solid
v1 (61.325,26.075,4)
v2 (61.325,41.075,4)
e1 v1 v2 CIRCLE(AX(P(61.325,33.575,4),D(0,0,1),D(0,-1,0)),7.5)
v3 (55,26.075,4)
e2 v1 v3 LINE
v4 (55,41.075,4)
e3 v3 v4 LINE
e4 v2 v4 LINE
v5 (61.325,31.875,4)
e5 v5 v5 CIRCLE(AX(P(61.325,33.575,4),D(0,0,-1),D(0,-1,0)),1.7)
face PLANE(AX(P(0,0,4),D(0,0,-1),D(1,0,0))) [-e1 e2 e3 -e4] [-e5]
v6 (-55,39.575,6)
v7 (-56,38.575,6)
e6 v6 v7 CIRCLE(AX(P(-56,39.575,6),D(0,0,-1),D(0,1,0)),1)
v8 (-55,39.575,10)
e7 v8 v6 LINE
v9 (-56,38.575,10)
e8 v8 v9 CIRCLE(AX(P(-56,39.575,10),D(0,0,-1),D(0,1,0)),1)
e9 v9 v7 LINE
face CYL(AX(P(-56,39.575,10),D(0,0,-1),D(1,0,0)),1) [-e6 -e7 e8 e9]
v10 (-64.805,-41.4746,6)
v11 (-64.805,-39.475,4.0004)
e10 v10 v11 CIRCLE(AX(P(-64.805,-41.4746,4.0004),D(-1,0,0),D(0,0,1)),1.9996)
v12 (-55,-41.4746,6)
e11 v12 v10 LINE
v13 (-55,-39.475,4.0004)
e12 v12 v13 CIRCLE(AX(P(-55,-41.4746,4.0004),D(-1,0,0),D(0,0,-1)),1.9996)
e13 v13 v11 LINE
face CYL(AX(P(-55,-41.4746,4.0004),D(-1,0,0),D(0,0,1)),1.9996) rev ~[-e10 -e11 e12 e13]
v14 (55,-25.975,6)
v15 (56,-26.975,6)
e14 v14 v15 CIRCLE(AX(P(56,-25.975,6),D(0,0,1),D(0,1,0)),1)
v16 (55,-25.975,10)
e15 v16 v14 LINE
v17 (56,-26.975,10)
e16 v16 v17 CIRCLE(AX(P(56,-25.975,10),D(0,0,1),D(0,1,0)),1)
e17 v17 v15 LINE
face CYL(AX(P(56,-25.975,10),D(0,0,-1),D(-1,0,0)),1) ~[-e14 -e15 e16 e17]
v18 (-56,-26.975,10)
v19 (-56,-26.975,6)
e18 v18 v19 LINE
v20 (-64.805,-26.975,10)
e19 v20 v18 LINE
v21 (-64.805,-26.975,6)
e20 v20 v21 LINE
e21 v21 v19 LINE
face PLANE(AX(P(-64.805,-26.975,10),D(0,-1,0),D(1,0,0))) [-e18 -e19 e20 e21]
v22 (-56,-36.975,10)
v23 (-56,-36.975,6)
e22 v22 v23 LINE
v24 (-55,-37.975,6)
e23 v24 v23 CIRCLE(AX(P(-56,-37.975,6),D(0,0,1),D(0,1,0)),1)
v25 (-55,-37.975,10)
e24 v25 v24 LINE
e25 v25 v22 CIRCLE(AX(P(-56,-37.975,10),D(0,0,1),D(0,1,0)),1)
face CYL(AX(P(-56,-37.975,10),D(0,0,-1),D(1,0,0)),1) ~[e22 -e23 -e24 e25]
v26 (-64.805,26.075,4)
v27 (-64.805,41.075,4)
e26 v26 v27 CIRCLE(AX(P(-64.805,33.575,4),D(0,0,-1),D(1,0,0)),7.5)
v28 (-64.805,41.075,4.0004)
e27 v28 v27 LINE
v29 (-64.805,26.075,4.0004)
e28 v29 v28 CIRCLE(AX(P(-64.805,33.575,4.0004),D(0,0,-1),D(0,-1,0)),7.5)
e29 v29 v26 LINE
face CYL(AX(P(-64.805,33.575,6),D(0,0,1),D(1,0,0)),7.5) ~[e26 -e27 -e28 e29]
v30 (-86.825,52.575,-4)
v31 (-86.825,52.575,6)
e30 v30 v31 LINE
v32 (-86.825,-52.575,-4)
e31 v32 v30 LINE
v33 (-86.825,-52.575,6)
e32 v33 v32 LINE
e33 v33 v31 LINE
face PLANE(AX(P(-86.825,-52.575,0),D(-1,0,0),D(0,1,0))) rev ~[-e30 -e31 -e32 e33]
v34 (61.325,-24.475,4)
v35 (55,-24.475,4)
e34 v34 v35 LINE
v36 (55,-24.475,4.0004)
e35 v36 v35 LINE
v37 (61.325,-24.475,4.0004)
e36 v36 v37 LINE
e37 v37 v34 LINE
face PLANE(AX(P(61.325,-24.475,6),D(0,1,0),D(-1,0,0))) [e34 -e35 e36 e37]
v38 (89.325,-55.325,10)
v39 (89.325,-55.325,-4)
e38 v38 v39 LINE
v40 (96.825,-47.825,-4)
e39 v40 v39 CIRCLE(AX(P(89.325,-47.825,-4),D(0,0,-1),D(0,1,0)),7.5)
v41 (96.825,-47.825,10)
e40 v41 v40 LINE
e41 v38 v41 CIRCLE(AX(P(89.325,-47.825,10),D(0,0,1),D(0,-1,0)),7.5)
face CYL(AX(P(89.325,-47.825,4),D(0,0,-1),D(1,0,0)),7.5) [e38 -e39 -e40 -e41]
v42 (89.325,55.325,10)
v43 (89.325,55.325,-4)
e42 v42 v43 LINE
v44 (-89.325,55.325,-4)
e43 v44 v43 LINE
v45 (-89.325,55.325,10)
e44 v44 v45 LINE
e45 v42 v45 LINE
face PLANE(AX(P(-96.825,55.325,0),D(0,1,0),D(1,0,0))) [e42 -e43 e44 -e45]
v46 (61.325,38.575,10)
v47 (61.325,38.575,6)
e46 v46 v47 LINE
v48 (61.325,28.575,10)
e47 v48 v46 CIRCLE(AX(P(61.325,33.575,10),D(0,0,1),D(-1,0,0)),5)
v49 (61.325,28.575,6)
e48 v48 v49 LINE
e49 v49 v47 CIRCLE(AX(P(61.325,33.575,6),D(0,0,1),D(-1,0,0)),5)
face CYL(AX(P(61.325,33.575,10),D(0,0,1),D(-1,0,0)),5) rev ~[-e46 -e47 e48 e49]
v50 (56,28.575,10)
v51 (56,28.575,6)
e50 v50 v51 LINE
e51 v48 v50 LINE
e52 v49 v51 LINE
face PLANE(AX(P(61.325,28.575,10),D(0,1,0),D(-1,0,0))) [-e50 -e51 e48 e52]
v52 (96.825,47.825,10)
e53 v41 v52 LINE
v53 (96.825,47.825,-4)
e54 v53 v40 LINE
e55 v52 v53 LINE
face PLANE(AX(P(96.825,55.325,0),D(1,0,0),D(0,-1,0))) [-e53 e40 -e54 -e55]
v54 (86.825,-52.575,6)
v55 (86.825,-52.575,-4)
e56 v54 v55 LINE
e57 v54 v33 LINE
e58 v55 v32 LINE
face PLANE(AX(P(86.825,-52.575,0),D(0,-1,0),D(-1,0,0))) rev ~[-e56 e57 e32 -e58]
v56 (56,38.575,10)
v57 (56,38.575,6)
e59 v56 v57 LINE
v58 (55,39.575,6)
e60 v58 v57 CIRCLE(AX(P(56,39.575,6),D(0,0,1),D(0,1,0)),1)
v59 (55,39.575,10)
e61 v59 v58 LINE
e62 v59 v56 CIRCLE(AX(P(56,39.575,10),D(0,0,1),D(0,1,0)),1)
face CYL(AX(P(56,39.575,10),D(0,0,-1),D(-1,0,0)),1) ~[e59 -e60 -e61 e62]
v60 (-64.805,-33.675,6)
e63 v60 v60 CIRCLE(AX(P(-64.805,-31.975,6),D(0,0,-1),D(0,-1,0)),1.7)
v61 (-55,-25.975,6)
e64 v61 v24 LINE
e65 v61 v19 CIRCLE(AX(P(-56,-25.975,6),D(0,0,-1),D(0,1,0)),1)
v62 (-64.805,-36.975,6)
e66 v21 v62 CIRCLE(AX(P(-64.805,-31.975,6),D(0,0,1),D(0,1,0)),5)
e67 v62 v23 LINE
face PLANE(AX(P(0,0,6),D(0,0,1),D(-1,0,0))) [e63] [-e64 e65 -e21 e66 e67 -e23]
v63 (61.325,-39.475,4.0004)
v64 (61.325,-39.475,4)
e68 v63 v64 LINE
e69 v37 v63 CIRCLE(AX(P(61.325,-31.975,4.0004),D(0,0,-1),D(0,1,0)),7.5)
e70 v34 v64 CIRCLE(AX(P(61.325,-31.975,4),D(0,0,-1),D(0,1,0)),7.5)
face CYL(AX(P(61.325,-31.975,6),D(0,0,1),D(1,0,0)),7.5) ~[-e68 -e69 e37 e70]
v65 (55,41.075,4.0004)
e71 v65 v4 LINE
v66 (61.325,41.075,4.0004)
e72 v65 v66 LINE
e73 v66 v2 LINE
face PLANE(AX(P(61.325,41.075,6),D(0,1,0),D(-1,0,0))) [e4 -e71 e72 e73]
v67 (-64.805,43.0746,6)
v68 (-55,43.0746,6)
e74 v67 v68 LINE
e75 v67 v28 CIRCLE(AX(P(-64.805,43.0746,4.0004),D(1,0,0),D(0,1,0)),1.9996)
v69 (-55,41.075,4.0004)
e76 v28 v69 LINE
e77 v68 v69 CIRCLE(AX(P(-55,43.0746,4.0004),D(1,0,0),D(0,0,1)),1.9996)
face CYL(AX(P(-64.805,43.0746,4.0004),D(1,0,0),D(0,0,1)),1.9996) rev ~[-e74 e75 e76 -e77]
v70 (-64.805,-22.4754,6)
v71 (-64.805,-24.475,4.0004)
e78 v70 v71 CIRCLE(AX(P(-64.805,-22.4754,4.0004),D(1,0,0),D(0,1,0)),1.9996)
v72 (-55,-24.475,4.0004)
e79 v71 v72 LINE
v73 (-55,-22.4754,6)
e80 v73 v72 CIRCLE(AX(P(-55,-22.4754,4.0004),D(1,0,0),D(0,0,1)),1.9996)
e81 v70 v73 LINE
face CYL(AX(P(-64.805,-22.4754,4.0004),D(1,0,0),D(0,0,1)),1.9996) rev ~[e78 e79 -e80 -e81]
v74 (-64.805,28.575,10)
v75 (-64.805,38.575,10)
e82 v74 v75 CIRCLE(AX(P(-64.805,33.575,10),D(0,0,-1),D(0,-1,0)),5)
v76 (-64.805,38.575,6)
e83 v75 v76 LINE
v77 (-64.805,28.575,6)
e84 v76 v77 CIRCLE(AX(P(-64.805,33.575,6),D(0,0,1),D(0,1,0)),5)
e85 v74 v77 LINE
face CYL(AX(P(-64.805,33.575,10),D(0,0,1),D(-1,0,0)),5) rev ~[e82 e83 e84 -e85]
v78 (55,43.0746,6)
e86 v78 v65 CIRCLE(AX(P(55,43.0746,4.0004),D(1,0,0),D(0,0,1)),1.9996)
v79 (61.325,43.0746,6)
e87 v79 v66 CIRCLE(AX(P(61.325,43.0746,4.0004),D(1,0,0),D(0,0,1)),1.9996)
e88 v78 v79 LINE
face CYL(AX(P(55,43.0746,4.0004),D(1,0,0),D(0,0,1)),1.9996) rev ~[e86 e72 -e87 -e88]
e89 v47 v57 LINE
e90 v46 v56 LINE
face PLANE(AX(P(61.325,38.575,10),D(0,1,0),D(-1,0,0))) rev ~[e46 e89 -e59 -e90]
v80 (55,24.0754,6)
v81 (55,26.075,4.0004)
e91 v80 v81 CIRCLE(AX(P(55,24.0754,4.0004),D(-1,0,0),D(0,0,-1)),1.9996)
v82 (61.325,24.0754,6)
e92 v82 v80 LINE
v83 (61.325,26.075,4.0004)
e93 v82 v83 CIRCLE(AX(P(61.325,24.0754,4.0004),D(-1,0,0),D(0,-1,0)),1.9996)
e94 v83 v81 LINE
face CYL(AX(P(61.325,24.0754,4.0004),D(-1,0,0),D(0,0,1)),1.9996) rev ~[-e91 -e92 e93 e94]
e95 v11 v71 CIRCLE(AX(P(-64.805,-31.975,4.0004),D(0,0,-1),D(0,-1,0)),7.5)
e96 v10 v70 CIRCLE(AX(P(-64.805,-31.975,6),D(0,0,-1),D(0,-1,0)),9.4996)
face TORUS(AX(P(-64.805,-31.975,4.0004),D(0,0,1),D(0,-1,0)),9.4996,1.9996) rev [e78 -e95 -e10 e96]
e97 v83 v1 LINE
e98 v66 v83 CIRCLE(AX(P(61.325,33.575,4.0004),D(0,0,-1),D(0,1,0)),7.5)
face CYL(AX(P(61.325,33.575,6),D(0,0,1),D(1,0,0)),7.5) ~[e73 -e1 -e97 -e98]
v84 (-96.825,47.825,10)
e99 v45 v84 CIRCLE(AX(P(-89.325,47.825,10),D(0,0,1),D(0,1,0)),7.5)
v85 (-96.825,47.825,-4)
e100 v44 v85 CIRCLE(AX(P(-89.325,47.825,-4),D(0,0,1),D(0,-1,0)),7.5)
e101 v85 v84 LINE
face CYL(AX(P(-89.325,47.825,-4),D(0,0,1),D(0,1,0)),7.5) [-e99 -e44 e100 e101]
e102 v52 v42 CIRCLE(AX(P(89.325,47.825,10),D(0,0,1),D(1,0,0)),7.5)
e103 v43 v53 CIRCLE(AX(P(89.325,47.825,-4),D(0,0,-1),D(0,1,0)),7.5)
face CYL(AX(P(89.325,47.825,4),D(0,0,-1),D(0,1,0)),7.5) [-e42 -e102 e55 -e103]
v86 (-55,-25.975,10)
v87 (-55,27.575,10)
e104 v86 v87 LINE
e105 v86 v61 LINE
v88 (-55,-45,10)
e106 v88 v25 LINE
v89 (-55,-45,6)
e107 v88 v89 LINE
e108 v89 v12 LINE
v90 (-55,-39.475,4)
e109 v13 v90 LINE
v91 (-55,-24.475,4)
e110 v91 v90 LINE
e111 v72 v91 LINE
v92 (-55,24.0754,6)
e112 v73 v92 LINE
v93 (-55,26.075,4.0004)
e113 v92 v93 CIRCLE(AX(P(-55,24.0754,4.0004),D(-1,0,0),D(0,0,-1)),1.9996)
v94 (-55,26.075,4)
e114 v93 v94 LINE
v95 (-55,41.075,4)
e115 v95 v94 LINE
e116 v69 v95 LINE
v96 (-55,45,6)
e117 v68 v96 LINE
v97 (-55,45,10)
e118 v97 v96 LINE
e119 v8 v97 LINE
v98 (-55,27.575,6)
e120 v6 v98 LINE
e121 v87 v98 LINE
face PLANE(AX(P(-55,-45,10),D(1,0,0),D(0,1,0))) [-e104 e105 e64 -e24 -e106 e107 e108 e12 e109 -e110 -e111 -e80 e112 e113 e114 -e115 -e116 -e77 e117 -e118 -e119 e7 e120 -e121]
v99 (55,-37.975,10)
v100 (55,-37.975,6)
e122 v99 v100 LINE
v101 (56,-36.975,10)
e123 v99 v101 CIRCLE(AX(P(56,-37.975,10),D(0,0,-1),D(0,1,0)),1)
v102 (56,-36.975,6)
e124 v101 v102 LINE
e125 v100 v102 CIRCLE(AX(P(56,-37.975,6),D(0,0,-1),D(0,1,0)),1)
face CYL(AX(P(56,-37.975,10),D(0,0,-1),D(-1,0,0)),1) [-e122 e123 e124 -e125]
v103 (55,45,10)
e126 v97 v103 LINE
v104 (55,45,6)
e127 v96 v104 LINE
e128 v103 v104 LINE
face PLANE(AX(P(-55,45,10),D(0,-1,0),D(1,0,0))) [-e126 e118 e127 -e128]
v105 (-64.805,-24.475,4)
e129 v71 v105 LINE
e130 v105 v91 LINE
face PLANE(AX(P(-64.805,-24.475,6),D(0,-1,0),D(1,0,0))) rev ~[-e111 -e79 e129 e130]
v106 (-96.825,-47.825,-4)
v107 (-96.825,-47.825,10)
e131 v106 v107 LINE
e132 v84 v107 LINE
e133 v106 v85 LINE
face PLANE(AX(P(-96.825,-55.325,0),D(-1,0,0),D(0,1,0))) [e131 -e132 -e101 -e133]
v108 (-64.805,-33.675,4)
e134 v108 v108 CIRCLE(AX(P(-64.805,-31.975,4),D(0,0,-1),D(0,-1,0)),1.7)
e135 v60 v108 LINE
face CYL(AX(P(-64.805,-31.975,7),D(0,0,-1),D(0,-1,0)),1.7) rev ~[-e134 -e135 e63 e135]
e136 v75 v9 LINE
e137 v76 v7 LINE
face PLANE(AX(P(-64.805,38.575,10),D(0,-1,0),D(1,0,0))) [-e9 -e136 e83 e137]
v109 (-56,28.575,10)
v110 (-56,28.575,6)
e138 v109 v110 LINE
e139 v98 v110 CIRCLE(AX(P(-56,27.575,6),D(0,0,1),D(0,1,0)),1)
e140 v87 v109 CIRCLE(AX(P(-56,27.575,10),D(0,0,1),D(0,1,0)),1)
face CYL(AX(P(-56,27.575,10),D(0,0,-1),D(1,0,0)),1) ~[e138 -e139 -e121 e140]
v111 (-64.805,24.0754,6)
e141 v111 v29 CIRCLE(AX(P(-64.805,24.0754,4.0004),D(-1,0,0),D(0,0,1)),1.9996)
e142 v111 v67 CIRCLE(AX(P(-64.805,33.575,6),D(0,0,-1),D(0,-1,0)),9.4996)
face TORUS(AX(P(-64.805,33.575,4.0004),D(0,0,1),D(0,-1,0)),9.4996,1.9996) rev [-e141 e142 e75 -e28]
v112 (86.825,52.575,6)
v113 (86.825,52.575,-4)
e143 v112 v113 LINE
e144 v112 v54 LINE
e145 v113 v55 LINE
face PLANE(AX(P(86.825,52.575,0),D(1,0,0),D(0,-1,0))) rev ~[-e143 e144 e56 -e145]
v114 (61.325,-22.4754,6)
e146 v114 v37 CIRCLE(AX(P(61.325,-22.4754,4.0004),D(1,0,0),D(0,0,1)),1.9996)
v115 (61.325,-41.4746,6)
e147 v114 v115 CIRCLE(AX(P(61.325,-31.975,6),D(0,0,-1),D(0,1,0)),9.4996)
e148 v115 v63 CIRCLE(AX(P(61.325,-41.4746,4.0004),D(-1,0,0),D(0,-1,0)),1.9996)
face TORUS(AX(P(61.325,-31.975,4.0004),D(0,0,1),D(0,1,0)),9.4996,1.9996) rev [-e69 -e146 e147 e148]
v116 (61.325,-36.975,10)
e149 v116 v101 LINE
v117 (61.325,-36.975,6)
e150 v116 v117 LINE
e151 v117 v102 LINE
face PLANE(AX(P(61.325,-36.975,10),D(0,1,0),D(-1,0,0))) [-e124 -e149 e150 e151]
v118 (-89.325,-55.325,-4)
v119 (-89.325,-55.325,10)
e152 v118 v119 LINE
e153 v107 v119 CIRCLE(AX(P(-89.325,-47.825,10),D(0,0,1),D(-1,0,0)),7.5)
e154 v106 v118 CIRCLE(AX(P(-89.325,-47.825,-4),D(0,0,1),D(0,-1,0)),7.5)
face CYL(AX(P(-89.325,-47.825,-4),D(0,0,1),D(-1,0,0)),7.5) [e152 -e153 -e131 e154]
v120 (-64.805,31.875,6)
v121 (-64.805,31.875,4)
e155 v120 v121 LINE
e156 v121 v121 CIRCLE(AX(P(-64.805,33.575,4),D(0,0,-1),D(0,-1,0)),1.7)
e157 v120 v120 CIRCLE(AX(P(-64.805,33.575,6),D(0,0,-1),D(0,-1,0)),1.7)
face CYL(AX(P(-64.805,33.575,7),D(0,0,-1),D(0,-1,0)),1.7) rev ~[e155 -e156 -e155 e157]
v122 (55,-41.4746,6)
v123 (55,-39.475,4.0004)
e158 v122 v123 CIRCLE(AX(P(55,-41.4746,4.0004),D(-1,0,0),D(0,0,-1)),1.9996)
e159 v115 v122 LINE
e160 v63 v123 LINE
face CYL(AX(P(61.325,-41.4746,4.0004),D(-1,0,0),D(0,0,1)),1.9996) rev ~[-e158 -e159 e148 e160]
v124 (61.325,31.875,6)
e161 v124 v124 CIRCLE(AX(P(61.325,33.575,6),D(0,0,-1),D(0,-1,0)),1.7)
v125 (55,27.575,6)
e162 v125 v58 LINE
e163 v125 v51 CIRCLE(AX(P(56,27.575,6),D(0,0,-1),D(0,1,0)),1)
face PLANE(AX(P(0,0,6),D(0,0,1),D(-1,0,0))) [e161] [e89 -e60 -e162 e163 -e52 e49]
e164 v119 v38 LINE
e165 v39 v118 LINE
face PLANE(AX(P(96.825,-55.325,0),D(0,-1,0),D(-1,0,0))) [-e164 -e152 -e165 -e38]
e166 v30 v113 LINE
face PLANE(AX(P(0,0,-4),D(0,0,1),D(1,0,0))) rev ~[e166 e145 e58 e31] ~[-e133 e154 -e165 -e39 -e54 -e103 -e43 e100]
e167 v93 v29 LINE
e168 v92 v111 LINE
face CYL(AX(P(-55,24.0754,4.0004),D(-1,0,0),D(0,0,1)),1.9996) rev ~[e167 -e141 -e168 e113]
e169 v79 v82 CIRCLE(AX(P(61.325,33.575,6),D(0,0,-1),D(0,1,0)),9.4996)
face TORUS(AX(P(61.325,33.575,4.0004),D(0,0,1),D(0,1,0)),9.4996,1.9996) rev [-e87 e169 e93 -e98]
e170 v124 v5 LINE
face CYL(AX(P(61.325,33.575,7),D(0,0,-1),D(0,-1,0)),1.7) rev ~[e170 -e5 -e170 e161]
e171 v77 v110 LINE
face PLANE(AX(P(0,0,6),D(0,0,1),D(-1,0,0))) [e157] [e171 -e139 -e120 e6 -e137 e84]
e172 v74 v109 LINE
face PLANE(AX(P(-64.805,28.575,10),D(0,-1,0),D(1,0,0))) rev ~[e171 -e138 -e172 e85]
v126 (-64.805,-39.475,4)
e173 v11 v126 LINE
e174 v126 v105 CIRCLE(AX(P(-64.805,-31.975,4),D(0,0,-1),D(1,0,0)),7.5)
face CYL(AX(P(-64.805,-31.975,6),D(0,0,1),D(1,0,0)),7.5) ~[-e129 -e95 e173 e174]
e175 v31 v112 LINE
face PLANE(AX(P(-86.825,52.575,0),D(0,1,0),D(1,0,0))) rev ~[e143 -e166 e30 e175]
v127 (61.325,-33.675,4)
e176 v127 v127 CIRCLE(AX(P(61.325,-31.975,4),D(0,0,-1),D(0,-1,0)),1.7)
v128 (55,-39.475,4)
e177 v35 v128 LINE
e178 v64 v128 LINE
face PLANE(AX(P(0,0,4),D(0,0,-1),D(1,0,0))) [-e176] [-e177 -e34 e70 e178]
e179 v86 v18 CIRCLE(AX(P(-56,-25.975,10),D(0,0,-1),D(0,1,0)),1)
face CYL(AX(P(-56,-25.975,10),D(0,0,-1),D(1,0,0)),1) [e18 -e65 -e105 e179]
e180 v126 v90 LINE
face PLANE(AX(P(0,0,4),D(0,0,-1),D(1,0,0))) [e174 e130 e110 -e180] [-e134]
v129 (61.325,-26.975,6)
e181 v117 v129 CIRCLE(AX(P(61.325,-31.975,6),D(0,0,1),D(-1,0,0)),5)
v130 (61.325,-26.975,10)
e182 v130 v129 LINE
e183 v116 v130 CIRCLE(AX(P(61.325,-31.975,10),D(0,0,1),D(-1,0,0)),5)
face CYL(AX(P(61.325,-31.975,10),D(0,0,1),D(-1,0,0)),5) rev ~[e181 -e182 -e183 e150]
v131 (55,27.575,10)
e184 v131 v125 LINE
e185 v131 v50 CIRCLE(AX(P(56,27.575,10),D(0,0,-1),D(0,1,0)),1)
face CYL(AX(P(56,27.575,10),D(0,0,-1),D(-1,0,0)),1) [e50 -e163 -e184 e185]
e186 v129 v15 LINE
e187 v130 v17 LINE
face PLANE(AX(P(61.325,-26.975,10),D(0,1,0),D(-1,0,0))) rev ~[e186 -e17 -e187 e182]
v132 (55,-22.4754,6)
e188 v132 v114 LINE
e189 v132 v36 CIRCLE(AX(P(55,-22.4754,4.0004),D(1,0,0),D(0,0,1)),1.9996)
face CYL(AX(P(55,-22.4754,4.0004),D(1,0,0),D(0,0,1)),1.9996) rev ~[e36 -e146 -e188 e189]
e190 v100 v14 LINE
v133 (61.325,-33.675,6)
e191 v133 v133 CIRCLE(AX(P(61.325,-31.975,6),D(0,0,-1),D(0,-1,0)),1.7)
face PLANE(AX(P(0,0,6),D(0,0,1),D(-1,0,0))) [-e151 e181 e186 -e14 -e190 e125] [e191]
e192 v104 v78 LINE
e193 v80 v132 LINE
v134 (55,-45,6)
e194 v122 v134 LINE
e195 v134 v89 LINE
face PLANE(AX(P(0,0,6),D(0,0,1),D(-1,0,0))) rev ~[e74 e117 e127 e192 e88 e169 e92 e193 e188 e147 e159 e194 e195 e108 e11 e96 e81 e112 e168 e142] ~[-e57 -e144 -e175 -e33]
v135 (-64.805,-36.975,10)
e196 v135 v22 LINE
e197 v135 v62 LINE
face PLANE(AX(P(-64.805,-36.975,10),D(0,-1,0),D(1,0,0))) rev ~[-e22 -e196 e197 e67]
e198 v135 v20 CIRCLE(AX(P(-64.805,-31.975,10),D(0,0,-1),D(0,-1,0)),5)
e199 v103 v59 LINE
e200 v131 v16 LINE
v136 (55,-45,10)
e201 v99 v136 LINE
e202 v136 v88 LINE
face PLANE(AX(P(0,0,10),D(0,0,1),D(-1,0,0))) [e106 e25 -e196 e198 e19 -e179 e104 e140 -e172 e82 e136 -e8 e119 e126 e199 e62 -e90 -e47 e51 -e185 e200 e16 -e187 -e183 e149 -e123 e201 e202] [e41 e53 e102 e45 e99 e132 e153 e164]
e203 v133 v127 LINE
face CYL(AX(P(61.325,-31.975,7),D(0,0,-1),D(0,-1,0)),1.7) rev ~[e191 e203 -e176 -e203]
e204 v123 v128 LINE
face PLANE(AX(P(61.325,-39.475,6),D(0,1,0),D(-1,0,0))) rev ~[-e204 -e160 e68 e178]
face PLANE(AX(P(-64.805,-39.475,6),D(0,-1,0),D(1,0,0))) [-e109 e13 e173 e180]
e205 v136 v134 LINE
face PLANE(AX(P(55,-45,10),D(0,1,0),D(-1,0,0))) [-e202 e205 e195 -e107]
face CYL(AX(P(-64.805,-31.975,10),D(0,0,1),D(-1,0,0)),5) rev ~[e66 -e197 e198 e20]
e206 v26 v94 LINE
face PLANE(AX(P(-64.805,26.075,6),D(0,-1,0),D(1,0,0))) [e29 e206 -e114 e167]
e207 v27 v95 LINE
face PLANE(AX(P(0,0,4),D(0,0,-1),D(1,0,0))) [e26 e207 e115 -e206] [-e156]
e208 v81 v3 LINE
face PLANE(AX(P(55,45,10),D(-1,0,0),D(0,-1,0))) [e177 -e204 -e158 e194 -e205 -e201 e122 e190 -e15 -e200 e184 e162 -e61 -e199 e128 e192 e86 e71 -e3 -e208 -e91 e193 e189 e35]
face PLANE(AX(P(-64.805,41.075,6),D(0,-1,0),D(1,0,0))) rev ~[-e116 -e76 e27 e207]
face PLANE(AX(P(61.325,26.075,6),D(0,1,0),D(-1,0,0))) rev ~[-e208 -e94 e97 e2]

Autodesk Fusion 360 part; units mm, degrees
sketch "Sketch1" plane through (0, 0, 0) normal (0, 0, 1) x (1, 0, 0)
  line L0 (-96.825, 55.325) -> (96.825, 55.325)
  line L1 (96.825, 55.325) -> (96.825, -55.325)
  line L2 (96.825, -55.325) -> (-96.825, -55.325)
  line L3 (-96.825, -55.325) -> (-96.825, 55.325)
  line L4 (-86.825, 52.575) -> (86.825, 52.575)
  line L5 (86.825, 52.575) -> (86.825, -52.575)
  line L6 (86.825, -52.575) -> (-86.825, -52.575)
  line L7 (-86.825, -52.575) -> (-86.825, 52.575)
  point P0 (0, 55.325)
  point P1 (96.825, 0)
  point P2 (0, 52.575)
  point P3 (86.825, 0)
  dimension "d1" = 193.65
  dimension "d2" = 110.65
  dimension "d9" = 2.75
  dimension "d10" = 10
extrude "Extrude2" add sketch "Sketch1" along normal mid plane 8
fillet "Fillet1" radius 7.5 4 edges at (-96.825, 55.325, 0) (-96.825, -55.325, 0) (96.825, -55.325, 0) (96.825, 55.325, 0)
sketch "Sketch2" plane through (0, 0, 4) normal (0, 0, 1) x (-1, 0, 0)
  arc A0 (-96.825, -47.825) -> (-89.325, -55.325) centre (-89.325, -47.825) ccw
  line L0 (-89.325, -55.325) -> (89.325, -55.325)
  arc A1 (89.325, -55.325) -> (96.825, -47.825) centre (89.325, -47.825) ccw
  line L1 (96.825, -47.825) -> (96.825, 47.825)
  arc A2 (96.825, 47.825) -> (89.325, 55.325) centre (89.325, 47.825) ccw
  line L2 (89.325, 55.325) -> (-89.325, 55.325)
  arc A3 (-89.325, 55.325) -> (-96.825, 47.825) centre (-89.325, 47.825) ccw
  line L3 (-96.825, 47.825) -> (-96.825, -47.825)
  line L4 (-86.825, 52.575) -> (86.825, 52.575)
  line L5 (86.825, 52.575) -> (86.825, -52.575)
  line L6 (86.825, -52.575) -> (-86.825, -52.575)
  line L7 (-86.825, -52.575) -> (-86.825, 52.575)
  line L8 (96.825, -47.825) -> (96.825, 47.825)
  arc A4 (96.825, 47.825) -> (89.325, 55.325) centre (89.325, 47.825) ccw
  line L9 (89.325, 55.325) -> (-89.325, 55.325)
  arc A5 (-89.325, 55.325) -> (-96.825, 47.825) centre (-89.325, 47.825) ccw
  line L10 (-96.825, 47.825) -> (-96.825, -47.825)
  arc A6 (-96.825, -47.825) -> (-89.325, -55.325) centre (-89.325, -47.825) ccw
  line L11 (-89.325, -55.325) -> (89.325, -55.325)
  arc A7 (89.325, -55.325) -> (96.825, -47.825) centre (89.325, -47.825) ccw
extrude "Extrude3" add sketch "Sketch2" along normal blind 6 contours A0 L0 A1 L1 A2 L2 A3 L3 L8 A4 L9 A5 L10 A6 L11 A7 | L4 L5 L6 L7
sketch "Sketch3" plane through (0, 0, 10) normal (0, 0, 1) x (-1, 0, 0)
  arc A0 (89.325, -55.325) -> (96.825, -47.825) centre (89.325, -47.825) ccw
  line L0 (96.825, -47.825) -> (96.825, 47.825)
  arc A1 (96.825, 47.825) -> (89.325, 55.325) centre (89.325, 47.825) ccw
  line L1 (89.325, 55.325) -> (-89.325, 55.325)
  arc A2 (-89.325, 55.325) -> (-96.825, 47.825) centre (-89.325, 47.825) ccw
  line L2 (-96.825, 47.825) -> (-96.825, -47.825)
  arc A3 (-96.825, -47.825) -> (-89.325, -55.325) centre (-89.325, -47.825) ccw
  line L3 (-89.325, -55.325) -> (89.325, -55.325)
  line L4 (72.305, -37.575) -> (-68.825, -37.575) construction
  line L5 (-68.825, -37.575) -> (-68.825, 35.975) construction
  line L6 (-68.825, 35.975) -> (72.305, 35.975) construction
  line L7 (72.305, 35.975) -> (72.305, -37.575) construction
  point P0 (-61.325, -33.575)
  point P1 (-61.325, 31.975)
  point P2 (64.805, -33.575)
  point P3 (64.805, 31.975)
  dimension "d17" = 73.55
  dimension "d18" = 4
  dimension "d19" = 4
  dimension "d20" = 141.13
  dimension "d21" = 7.5
  dimension "d22" = 7.5
  dimension "d23" = 4
  dimension "d24" = 7.5
  dimension "d25" = 4
  dimension "d26" = 7.5
  dimension "d27" = 28
  dimension "d28" = 17.75
extrude "Extrude5" cut 1 faces at (28.9417, -17.525, 4) along direction (0, 0, 1) blind 2
sketch "Sketch4" plane through (0, 0, 10) normal (0, 0, 1) x (-1, 0, 0)
  arc A0 (89.325, -55.325) -> (96.825, -47.825) centre (89.325, -47.825) ccw
  line L0 (96.825, -47.825) -> (96.825, 47.825)
  arc A1 (96.825, 47.825) -> (89.325, 55.325) centre (89.325, 47.825) ccw
  line L1 (89.325, 55.325) -> (-89.325, 55.325)
  arc A2 (-89.325, 55.325) -> (-96.825, 47.825) centre (-89.325, 47.825) ccw
  line L2 (-96.825, 47.825) -> (-96.825, -47.825)
  arc A3 (-96.825, -47.825) -> (-89.325, -55.325) centre (-89.325, -47.825) ccw
  line L3 (-89.325, -55.325) -> (89.325, -55.325)
  line L4 (55, -45) -> (-55, -45)
  line L5 (-55, -45) -> (-55, 45)
  line L6 (-55, 45) -> (55, 45)
  line L7 (55, 45) -> (55, -45)
  point P0 (0, -45)
  dimension "d33" = 110
  dimension "d35" = 45
  dimension "d36" = 45
extrude "Extrude4" cut sketch "Sketch4" against normal through all contours L4 L5 L6 L7
sketch "Sketch5" plane through (0, 0, 6) normal (0, 0, -1) x (1, 0, 0)
  line L0 (86.825, -52.575) -> (86.825, 52.575)
  line L1 (86.825, 52.575) -> (-86.825, 52.575)
  line L2 (-86.825, 52.575) -> (-86.825, -52.575)
  line L3 (-86.825, -52.575) -> (86.825, -52.575)
  circle A0 centre (61.325, -33.575) radius 7.5
  circle A1 centre (61.325, 31.975) radius 7.5
  circle A2 centre (-64.805, -33.575) radius 7.5
  circle A3 centre (-64.805, 31.975) radius 7.5
  line L4 (-55, -45) -> (-55, 45)
  line L5 (-55, 45) -> (55, 45)
  line L6 (55, 45) -> (55, -45)
  line L7 (55, -45) -> (-55, -45)
  line L8 (-64.805, -26.075) -> (-55, -26.075)
  line L9 (-64.805, -41.075) -> (-55, -41.075)
  line L10 (-64.805, 39.475) -> (-55, 39.475)
  line L11 (-64.805, 24.475) -> (-55, 24.475)
  line L12 (61.325, 39.475) -> (55, 39.475)
  line L13 (61.325, 24.475) -> (55, 24.475)
  line L14 (61.325, -26.075) -> (55, -26.075)
  line L15 (61.325, -41.075) -> (55, -41.075)
  point P0 (61.325, -33.575)
  point P1 (-64.805, -33.575)
  point P2 (-64.805, 31.975)
  point P3 (61.325, 31.975)
  dimension "d39" = 15
  dimension "d47" = 126.13
extrude "Extrude6" add sketch "Sketch5" along normal blind 2 contours A0 L6 | A0 L6 L14 | A0 L6 L15 | A1 L6 L13 | A1 L6 | A1 L6 L12 | A2 L4 L8 L9 | A2 | A3 L4 L10 L11 | A3 picked at (59.7964, -33.5066) picked at (59.5829, 32.3308)
sketch "Sketch6" plane through (0, 0, 10) normal (0, 0, 1) x (-1, 0, 0)
  line L0 (55, 45) -> (55, -45)
  line L1 (55, -45) -> (-55, -45)
  line L2 (-55, -45) -> (-55, 45)
  line L3 (-55, 45) -> (55, 45)
  arc A0 (89.325, -55.325) -> (96.825, -47.825) centre (89.325, -47.825) ccw
  line L4 (96.825, -47.825) -> (96.825, 47.825)
  arc A1 (96.825, 47.825) -> (89.325, 55.325) centre (89.325, 47.825) ccw
  line L5 (89.325, 55.325) -> (-89.325, 55.325)
  arc A2 (-89.325, 55.325) -> (-96.825, 47.825) centre (-89.325, 47.825) ccw
  line L6 (-96.825, 47.825) -> (-96.825, -47.825)
  arc A3 (-96.825, -47.825) -> (-89.325, -55.325) centre (-89.325, -47.825) ccw
  line L7 (-89.325, -55.325) -> (89.325, -55.325)
  circle A4 centre (64.805, -33.575) radius 5
  circle A5 centre (64.805, 31.975) radius 5
  circle A6 centre (-61.325, -33.575) radius 5
  circle A7 centre (-61.325, 31.975) radius 5
  line L8 (64.805, -38.575) -> (55, -38.575)
  line L9 (64.805, -28.575) -> (55, -28.575)
  line L10 (64.805, 26.975) -> (55, 26.975)
  line L11 (64.805, 36.975) -> (55, 36.975)
  line L12 (-61.325, 36.975) -> (-55, 36.975)
  line L13 (-61.325, 26.975) -> (-55, 26.975)
  line L14 (-61.325, -28.575) -> (-55, -28.575)
  line L15 (-61.325, -38.575) -> (-55, -38.575)
  point P0 (64.805, -33.575)
  point P1 (64.805, 31.975)
  point P2 (-61.325, 31.975)
  point P3 (-61.325, -33.575)
  dimension "d44" = 10
extrude "Extrude7" cut sketch "Sketch6" against normal blind 4 contours L0 A5 L10 L11 | A5 | L2 A7 L12 L13 | L0 A4 L8 L9 | A7 | A4 | L2 A6 L14 L15 | A6
hole "Hole1" at (-64.805, 33.575, 10) at (61.325, 33.575, 10) at (61.325, -31.975, 10) at (-64.805, -31.975, 10) direction (0, 0, -1) diameter 3.4 end through all counterbore diameter 6.5 counterbore depth 3
fillet "Fillet3" radius 1 8 edges at (-55, 28.575, 8) (-55, 38.575, 8) (55, 38.575, 8) (55, 28.575, 8) (55, -26.975, 8) (55, -36.975, 8) (-55, -26.975, 8) (-55, -36.975, 8)
fillet "Fillet4" radius 2 12 edges at (-59.9025, -24.475, 6) (-72.305, -31.975, 6) (-59.9025, -39.475, 6) (-59.9025, 41.075, 6) (-72.305, 33.575, 6) (-59.9025, 26.075, 6) (58.1625, 26.075, 6) (68.825, 33.575, 6) (58.1625, 41.075, 6) (58.1625, -39.475, 6) (68.825, -31.975, 6) (58.1625, -24.475, 6)
equation "d1 = 193.75 mm - 0.1 mm"
equation "d2 = 110.75 mm - 0.1 mm"
equation "d9 = 2.00 mm + 0.75 mm"
equation "d11 = 6 mm + 2 mm"
equation "d19 = d18"
equation "d22 = d21"
equation "d23 = d18"
equation "d24 = d21"
equation "d25 = d23"
equation "d26 = d24"
